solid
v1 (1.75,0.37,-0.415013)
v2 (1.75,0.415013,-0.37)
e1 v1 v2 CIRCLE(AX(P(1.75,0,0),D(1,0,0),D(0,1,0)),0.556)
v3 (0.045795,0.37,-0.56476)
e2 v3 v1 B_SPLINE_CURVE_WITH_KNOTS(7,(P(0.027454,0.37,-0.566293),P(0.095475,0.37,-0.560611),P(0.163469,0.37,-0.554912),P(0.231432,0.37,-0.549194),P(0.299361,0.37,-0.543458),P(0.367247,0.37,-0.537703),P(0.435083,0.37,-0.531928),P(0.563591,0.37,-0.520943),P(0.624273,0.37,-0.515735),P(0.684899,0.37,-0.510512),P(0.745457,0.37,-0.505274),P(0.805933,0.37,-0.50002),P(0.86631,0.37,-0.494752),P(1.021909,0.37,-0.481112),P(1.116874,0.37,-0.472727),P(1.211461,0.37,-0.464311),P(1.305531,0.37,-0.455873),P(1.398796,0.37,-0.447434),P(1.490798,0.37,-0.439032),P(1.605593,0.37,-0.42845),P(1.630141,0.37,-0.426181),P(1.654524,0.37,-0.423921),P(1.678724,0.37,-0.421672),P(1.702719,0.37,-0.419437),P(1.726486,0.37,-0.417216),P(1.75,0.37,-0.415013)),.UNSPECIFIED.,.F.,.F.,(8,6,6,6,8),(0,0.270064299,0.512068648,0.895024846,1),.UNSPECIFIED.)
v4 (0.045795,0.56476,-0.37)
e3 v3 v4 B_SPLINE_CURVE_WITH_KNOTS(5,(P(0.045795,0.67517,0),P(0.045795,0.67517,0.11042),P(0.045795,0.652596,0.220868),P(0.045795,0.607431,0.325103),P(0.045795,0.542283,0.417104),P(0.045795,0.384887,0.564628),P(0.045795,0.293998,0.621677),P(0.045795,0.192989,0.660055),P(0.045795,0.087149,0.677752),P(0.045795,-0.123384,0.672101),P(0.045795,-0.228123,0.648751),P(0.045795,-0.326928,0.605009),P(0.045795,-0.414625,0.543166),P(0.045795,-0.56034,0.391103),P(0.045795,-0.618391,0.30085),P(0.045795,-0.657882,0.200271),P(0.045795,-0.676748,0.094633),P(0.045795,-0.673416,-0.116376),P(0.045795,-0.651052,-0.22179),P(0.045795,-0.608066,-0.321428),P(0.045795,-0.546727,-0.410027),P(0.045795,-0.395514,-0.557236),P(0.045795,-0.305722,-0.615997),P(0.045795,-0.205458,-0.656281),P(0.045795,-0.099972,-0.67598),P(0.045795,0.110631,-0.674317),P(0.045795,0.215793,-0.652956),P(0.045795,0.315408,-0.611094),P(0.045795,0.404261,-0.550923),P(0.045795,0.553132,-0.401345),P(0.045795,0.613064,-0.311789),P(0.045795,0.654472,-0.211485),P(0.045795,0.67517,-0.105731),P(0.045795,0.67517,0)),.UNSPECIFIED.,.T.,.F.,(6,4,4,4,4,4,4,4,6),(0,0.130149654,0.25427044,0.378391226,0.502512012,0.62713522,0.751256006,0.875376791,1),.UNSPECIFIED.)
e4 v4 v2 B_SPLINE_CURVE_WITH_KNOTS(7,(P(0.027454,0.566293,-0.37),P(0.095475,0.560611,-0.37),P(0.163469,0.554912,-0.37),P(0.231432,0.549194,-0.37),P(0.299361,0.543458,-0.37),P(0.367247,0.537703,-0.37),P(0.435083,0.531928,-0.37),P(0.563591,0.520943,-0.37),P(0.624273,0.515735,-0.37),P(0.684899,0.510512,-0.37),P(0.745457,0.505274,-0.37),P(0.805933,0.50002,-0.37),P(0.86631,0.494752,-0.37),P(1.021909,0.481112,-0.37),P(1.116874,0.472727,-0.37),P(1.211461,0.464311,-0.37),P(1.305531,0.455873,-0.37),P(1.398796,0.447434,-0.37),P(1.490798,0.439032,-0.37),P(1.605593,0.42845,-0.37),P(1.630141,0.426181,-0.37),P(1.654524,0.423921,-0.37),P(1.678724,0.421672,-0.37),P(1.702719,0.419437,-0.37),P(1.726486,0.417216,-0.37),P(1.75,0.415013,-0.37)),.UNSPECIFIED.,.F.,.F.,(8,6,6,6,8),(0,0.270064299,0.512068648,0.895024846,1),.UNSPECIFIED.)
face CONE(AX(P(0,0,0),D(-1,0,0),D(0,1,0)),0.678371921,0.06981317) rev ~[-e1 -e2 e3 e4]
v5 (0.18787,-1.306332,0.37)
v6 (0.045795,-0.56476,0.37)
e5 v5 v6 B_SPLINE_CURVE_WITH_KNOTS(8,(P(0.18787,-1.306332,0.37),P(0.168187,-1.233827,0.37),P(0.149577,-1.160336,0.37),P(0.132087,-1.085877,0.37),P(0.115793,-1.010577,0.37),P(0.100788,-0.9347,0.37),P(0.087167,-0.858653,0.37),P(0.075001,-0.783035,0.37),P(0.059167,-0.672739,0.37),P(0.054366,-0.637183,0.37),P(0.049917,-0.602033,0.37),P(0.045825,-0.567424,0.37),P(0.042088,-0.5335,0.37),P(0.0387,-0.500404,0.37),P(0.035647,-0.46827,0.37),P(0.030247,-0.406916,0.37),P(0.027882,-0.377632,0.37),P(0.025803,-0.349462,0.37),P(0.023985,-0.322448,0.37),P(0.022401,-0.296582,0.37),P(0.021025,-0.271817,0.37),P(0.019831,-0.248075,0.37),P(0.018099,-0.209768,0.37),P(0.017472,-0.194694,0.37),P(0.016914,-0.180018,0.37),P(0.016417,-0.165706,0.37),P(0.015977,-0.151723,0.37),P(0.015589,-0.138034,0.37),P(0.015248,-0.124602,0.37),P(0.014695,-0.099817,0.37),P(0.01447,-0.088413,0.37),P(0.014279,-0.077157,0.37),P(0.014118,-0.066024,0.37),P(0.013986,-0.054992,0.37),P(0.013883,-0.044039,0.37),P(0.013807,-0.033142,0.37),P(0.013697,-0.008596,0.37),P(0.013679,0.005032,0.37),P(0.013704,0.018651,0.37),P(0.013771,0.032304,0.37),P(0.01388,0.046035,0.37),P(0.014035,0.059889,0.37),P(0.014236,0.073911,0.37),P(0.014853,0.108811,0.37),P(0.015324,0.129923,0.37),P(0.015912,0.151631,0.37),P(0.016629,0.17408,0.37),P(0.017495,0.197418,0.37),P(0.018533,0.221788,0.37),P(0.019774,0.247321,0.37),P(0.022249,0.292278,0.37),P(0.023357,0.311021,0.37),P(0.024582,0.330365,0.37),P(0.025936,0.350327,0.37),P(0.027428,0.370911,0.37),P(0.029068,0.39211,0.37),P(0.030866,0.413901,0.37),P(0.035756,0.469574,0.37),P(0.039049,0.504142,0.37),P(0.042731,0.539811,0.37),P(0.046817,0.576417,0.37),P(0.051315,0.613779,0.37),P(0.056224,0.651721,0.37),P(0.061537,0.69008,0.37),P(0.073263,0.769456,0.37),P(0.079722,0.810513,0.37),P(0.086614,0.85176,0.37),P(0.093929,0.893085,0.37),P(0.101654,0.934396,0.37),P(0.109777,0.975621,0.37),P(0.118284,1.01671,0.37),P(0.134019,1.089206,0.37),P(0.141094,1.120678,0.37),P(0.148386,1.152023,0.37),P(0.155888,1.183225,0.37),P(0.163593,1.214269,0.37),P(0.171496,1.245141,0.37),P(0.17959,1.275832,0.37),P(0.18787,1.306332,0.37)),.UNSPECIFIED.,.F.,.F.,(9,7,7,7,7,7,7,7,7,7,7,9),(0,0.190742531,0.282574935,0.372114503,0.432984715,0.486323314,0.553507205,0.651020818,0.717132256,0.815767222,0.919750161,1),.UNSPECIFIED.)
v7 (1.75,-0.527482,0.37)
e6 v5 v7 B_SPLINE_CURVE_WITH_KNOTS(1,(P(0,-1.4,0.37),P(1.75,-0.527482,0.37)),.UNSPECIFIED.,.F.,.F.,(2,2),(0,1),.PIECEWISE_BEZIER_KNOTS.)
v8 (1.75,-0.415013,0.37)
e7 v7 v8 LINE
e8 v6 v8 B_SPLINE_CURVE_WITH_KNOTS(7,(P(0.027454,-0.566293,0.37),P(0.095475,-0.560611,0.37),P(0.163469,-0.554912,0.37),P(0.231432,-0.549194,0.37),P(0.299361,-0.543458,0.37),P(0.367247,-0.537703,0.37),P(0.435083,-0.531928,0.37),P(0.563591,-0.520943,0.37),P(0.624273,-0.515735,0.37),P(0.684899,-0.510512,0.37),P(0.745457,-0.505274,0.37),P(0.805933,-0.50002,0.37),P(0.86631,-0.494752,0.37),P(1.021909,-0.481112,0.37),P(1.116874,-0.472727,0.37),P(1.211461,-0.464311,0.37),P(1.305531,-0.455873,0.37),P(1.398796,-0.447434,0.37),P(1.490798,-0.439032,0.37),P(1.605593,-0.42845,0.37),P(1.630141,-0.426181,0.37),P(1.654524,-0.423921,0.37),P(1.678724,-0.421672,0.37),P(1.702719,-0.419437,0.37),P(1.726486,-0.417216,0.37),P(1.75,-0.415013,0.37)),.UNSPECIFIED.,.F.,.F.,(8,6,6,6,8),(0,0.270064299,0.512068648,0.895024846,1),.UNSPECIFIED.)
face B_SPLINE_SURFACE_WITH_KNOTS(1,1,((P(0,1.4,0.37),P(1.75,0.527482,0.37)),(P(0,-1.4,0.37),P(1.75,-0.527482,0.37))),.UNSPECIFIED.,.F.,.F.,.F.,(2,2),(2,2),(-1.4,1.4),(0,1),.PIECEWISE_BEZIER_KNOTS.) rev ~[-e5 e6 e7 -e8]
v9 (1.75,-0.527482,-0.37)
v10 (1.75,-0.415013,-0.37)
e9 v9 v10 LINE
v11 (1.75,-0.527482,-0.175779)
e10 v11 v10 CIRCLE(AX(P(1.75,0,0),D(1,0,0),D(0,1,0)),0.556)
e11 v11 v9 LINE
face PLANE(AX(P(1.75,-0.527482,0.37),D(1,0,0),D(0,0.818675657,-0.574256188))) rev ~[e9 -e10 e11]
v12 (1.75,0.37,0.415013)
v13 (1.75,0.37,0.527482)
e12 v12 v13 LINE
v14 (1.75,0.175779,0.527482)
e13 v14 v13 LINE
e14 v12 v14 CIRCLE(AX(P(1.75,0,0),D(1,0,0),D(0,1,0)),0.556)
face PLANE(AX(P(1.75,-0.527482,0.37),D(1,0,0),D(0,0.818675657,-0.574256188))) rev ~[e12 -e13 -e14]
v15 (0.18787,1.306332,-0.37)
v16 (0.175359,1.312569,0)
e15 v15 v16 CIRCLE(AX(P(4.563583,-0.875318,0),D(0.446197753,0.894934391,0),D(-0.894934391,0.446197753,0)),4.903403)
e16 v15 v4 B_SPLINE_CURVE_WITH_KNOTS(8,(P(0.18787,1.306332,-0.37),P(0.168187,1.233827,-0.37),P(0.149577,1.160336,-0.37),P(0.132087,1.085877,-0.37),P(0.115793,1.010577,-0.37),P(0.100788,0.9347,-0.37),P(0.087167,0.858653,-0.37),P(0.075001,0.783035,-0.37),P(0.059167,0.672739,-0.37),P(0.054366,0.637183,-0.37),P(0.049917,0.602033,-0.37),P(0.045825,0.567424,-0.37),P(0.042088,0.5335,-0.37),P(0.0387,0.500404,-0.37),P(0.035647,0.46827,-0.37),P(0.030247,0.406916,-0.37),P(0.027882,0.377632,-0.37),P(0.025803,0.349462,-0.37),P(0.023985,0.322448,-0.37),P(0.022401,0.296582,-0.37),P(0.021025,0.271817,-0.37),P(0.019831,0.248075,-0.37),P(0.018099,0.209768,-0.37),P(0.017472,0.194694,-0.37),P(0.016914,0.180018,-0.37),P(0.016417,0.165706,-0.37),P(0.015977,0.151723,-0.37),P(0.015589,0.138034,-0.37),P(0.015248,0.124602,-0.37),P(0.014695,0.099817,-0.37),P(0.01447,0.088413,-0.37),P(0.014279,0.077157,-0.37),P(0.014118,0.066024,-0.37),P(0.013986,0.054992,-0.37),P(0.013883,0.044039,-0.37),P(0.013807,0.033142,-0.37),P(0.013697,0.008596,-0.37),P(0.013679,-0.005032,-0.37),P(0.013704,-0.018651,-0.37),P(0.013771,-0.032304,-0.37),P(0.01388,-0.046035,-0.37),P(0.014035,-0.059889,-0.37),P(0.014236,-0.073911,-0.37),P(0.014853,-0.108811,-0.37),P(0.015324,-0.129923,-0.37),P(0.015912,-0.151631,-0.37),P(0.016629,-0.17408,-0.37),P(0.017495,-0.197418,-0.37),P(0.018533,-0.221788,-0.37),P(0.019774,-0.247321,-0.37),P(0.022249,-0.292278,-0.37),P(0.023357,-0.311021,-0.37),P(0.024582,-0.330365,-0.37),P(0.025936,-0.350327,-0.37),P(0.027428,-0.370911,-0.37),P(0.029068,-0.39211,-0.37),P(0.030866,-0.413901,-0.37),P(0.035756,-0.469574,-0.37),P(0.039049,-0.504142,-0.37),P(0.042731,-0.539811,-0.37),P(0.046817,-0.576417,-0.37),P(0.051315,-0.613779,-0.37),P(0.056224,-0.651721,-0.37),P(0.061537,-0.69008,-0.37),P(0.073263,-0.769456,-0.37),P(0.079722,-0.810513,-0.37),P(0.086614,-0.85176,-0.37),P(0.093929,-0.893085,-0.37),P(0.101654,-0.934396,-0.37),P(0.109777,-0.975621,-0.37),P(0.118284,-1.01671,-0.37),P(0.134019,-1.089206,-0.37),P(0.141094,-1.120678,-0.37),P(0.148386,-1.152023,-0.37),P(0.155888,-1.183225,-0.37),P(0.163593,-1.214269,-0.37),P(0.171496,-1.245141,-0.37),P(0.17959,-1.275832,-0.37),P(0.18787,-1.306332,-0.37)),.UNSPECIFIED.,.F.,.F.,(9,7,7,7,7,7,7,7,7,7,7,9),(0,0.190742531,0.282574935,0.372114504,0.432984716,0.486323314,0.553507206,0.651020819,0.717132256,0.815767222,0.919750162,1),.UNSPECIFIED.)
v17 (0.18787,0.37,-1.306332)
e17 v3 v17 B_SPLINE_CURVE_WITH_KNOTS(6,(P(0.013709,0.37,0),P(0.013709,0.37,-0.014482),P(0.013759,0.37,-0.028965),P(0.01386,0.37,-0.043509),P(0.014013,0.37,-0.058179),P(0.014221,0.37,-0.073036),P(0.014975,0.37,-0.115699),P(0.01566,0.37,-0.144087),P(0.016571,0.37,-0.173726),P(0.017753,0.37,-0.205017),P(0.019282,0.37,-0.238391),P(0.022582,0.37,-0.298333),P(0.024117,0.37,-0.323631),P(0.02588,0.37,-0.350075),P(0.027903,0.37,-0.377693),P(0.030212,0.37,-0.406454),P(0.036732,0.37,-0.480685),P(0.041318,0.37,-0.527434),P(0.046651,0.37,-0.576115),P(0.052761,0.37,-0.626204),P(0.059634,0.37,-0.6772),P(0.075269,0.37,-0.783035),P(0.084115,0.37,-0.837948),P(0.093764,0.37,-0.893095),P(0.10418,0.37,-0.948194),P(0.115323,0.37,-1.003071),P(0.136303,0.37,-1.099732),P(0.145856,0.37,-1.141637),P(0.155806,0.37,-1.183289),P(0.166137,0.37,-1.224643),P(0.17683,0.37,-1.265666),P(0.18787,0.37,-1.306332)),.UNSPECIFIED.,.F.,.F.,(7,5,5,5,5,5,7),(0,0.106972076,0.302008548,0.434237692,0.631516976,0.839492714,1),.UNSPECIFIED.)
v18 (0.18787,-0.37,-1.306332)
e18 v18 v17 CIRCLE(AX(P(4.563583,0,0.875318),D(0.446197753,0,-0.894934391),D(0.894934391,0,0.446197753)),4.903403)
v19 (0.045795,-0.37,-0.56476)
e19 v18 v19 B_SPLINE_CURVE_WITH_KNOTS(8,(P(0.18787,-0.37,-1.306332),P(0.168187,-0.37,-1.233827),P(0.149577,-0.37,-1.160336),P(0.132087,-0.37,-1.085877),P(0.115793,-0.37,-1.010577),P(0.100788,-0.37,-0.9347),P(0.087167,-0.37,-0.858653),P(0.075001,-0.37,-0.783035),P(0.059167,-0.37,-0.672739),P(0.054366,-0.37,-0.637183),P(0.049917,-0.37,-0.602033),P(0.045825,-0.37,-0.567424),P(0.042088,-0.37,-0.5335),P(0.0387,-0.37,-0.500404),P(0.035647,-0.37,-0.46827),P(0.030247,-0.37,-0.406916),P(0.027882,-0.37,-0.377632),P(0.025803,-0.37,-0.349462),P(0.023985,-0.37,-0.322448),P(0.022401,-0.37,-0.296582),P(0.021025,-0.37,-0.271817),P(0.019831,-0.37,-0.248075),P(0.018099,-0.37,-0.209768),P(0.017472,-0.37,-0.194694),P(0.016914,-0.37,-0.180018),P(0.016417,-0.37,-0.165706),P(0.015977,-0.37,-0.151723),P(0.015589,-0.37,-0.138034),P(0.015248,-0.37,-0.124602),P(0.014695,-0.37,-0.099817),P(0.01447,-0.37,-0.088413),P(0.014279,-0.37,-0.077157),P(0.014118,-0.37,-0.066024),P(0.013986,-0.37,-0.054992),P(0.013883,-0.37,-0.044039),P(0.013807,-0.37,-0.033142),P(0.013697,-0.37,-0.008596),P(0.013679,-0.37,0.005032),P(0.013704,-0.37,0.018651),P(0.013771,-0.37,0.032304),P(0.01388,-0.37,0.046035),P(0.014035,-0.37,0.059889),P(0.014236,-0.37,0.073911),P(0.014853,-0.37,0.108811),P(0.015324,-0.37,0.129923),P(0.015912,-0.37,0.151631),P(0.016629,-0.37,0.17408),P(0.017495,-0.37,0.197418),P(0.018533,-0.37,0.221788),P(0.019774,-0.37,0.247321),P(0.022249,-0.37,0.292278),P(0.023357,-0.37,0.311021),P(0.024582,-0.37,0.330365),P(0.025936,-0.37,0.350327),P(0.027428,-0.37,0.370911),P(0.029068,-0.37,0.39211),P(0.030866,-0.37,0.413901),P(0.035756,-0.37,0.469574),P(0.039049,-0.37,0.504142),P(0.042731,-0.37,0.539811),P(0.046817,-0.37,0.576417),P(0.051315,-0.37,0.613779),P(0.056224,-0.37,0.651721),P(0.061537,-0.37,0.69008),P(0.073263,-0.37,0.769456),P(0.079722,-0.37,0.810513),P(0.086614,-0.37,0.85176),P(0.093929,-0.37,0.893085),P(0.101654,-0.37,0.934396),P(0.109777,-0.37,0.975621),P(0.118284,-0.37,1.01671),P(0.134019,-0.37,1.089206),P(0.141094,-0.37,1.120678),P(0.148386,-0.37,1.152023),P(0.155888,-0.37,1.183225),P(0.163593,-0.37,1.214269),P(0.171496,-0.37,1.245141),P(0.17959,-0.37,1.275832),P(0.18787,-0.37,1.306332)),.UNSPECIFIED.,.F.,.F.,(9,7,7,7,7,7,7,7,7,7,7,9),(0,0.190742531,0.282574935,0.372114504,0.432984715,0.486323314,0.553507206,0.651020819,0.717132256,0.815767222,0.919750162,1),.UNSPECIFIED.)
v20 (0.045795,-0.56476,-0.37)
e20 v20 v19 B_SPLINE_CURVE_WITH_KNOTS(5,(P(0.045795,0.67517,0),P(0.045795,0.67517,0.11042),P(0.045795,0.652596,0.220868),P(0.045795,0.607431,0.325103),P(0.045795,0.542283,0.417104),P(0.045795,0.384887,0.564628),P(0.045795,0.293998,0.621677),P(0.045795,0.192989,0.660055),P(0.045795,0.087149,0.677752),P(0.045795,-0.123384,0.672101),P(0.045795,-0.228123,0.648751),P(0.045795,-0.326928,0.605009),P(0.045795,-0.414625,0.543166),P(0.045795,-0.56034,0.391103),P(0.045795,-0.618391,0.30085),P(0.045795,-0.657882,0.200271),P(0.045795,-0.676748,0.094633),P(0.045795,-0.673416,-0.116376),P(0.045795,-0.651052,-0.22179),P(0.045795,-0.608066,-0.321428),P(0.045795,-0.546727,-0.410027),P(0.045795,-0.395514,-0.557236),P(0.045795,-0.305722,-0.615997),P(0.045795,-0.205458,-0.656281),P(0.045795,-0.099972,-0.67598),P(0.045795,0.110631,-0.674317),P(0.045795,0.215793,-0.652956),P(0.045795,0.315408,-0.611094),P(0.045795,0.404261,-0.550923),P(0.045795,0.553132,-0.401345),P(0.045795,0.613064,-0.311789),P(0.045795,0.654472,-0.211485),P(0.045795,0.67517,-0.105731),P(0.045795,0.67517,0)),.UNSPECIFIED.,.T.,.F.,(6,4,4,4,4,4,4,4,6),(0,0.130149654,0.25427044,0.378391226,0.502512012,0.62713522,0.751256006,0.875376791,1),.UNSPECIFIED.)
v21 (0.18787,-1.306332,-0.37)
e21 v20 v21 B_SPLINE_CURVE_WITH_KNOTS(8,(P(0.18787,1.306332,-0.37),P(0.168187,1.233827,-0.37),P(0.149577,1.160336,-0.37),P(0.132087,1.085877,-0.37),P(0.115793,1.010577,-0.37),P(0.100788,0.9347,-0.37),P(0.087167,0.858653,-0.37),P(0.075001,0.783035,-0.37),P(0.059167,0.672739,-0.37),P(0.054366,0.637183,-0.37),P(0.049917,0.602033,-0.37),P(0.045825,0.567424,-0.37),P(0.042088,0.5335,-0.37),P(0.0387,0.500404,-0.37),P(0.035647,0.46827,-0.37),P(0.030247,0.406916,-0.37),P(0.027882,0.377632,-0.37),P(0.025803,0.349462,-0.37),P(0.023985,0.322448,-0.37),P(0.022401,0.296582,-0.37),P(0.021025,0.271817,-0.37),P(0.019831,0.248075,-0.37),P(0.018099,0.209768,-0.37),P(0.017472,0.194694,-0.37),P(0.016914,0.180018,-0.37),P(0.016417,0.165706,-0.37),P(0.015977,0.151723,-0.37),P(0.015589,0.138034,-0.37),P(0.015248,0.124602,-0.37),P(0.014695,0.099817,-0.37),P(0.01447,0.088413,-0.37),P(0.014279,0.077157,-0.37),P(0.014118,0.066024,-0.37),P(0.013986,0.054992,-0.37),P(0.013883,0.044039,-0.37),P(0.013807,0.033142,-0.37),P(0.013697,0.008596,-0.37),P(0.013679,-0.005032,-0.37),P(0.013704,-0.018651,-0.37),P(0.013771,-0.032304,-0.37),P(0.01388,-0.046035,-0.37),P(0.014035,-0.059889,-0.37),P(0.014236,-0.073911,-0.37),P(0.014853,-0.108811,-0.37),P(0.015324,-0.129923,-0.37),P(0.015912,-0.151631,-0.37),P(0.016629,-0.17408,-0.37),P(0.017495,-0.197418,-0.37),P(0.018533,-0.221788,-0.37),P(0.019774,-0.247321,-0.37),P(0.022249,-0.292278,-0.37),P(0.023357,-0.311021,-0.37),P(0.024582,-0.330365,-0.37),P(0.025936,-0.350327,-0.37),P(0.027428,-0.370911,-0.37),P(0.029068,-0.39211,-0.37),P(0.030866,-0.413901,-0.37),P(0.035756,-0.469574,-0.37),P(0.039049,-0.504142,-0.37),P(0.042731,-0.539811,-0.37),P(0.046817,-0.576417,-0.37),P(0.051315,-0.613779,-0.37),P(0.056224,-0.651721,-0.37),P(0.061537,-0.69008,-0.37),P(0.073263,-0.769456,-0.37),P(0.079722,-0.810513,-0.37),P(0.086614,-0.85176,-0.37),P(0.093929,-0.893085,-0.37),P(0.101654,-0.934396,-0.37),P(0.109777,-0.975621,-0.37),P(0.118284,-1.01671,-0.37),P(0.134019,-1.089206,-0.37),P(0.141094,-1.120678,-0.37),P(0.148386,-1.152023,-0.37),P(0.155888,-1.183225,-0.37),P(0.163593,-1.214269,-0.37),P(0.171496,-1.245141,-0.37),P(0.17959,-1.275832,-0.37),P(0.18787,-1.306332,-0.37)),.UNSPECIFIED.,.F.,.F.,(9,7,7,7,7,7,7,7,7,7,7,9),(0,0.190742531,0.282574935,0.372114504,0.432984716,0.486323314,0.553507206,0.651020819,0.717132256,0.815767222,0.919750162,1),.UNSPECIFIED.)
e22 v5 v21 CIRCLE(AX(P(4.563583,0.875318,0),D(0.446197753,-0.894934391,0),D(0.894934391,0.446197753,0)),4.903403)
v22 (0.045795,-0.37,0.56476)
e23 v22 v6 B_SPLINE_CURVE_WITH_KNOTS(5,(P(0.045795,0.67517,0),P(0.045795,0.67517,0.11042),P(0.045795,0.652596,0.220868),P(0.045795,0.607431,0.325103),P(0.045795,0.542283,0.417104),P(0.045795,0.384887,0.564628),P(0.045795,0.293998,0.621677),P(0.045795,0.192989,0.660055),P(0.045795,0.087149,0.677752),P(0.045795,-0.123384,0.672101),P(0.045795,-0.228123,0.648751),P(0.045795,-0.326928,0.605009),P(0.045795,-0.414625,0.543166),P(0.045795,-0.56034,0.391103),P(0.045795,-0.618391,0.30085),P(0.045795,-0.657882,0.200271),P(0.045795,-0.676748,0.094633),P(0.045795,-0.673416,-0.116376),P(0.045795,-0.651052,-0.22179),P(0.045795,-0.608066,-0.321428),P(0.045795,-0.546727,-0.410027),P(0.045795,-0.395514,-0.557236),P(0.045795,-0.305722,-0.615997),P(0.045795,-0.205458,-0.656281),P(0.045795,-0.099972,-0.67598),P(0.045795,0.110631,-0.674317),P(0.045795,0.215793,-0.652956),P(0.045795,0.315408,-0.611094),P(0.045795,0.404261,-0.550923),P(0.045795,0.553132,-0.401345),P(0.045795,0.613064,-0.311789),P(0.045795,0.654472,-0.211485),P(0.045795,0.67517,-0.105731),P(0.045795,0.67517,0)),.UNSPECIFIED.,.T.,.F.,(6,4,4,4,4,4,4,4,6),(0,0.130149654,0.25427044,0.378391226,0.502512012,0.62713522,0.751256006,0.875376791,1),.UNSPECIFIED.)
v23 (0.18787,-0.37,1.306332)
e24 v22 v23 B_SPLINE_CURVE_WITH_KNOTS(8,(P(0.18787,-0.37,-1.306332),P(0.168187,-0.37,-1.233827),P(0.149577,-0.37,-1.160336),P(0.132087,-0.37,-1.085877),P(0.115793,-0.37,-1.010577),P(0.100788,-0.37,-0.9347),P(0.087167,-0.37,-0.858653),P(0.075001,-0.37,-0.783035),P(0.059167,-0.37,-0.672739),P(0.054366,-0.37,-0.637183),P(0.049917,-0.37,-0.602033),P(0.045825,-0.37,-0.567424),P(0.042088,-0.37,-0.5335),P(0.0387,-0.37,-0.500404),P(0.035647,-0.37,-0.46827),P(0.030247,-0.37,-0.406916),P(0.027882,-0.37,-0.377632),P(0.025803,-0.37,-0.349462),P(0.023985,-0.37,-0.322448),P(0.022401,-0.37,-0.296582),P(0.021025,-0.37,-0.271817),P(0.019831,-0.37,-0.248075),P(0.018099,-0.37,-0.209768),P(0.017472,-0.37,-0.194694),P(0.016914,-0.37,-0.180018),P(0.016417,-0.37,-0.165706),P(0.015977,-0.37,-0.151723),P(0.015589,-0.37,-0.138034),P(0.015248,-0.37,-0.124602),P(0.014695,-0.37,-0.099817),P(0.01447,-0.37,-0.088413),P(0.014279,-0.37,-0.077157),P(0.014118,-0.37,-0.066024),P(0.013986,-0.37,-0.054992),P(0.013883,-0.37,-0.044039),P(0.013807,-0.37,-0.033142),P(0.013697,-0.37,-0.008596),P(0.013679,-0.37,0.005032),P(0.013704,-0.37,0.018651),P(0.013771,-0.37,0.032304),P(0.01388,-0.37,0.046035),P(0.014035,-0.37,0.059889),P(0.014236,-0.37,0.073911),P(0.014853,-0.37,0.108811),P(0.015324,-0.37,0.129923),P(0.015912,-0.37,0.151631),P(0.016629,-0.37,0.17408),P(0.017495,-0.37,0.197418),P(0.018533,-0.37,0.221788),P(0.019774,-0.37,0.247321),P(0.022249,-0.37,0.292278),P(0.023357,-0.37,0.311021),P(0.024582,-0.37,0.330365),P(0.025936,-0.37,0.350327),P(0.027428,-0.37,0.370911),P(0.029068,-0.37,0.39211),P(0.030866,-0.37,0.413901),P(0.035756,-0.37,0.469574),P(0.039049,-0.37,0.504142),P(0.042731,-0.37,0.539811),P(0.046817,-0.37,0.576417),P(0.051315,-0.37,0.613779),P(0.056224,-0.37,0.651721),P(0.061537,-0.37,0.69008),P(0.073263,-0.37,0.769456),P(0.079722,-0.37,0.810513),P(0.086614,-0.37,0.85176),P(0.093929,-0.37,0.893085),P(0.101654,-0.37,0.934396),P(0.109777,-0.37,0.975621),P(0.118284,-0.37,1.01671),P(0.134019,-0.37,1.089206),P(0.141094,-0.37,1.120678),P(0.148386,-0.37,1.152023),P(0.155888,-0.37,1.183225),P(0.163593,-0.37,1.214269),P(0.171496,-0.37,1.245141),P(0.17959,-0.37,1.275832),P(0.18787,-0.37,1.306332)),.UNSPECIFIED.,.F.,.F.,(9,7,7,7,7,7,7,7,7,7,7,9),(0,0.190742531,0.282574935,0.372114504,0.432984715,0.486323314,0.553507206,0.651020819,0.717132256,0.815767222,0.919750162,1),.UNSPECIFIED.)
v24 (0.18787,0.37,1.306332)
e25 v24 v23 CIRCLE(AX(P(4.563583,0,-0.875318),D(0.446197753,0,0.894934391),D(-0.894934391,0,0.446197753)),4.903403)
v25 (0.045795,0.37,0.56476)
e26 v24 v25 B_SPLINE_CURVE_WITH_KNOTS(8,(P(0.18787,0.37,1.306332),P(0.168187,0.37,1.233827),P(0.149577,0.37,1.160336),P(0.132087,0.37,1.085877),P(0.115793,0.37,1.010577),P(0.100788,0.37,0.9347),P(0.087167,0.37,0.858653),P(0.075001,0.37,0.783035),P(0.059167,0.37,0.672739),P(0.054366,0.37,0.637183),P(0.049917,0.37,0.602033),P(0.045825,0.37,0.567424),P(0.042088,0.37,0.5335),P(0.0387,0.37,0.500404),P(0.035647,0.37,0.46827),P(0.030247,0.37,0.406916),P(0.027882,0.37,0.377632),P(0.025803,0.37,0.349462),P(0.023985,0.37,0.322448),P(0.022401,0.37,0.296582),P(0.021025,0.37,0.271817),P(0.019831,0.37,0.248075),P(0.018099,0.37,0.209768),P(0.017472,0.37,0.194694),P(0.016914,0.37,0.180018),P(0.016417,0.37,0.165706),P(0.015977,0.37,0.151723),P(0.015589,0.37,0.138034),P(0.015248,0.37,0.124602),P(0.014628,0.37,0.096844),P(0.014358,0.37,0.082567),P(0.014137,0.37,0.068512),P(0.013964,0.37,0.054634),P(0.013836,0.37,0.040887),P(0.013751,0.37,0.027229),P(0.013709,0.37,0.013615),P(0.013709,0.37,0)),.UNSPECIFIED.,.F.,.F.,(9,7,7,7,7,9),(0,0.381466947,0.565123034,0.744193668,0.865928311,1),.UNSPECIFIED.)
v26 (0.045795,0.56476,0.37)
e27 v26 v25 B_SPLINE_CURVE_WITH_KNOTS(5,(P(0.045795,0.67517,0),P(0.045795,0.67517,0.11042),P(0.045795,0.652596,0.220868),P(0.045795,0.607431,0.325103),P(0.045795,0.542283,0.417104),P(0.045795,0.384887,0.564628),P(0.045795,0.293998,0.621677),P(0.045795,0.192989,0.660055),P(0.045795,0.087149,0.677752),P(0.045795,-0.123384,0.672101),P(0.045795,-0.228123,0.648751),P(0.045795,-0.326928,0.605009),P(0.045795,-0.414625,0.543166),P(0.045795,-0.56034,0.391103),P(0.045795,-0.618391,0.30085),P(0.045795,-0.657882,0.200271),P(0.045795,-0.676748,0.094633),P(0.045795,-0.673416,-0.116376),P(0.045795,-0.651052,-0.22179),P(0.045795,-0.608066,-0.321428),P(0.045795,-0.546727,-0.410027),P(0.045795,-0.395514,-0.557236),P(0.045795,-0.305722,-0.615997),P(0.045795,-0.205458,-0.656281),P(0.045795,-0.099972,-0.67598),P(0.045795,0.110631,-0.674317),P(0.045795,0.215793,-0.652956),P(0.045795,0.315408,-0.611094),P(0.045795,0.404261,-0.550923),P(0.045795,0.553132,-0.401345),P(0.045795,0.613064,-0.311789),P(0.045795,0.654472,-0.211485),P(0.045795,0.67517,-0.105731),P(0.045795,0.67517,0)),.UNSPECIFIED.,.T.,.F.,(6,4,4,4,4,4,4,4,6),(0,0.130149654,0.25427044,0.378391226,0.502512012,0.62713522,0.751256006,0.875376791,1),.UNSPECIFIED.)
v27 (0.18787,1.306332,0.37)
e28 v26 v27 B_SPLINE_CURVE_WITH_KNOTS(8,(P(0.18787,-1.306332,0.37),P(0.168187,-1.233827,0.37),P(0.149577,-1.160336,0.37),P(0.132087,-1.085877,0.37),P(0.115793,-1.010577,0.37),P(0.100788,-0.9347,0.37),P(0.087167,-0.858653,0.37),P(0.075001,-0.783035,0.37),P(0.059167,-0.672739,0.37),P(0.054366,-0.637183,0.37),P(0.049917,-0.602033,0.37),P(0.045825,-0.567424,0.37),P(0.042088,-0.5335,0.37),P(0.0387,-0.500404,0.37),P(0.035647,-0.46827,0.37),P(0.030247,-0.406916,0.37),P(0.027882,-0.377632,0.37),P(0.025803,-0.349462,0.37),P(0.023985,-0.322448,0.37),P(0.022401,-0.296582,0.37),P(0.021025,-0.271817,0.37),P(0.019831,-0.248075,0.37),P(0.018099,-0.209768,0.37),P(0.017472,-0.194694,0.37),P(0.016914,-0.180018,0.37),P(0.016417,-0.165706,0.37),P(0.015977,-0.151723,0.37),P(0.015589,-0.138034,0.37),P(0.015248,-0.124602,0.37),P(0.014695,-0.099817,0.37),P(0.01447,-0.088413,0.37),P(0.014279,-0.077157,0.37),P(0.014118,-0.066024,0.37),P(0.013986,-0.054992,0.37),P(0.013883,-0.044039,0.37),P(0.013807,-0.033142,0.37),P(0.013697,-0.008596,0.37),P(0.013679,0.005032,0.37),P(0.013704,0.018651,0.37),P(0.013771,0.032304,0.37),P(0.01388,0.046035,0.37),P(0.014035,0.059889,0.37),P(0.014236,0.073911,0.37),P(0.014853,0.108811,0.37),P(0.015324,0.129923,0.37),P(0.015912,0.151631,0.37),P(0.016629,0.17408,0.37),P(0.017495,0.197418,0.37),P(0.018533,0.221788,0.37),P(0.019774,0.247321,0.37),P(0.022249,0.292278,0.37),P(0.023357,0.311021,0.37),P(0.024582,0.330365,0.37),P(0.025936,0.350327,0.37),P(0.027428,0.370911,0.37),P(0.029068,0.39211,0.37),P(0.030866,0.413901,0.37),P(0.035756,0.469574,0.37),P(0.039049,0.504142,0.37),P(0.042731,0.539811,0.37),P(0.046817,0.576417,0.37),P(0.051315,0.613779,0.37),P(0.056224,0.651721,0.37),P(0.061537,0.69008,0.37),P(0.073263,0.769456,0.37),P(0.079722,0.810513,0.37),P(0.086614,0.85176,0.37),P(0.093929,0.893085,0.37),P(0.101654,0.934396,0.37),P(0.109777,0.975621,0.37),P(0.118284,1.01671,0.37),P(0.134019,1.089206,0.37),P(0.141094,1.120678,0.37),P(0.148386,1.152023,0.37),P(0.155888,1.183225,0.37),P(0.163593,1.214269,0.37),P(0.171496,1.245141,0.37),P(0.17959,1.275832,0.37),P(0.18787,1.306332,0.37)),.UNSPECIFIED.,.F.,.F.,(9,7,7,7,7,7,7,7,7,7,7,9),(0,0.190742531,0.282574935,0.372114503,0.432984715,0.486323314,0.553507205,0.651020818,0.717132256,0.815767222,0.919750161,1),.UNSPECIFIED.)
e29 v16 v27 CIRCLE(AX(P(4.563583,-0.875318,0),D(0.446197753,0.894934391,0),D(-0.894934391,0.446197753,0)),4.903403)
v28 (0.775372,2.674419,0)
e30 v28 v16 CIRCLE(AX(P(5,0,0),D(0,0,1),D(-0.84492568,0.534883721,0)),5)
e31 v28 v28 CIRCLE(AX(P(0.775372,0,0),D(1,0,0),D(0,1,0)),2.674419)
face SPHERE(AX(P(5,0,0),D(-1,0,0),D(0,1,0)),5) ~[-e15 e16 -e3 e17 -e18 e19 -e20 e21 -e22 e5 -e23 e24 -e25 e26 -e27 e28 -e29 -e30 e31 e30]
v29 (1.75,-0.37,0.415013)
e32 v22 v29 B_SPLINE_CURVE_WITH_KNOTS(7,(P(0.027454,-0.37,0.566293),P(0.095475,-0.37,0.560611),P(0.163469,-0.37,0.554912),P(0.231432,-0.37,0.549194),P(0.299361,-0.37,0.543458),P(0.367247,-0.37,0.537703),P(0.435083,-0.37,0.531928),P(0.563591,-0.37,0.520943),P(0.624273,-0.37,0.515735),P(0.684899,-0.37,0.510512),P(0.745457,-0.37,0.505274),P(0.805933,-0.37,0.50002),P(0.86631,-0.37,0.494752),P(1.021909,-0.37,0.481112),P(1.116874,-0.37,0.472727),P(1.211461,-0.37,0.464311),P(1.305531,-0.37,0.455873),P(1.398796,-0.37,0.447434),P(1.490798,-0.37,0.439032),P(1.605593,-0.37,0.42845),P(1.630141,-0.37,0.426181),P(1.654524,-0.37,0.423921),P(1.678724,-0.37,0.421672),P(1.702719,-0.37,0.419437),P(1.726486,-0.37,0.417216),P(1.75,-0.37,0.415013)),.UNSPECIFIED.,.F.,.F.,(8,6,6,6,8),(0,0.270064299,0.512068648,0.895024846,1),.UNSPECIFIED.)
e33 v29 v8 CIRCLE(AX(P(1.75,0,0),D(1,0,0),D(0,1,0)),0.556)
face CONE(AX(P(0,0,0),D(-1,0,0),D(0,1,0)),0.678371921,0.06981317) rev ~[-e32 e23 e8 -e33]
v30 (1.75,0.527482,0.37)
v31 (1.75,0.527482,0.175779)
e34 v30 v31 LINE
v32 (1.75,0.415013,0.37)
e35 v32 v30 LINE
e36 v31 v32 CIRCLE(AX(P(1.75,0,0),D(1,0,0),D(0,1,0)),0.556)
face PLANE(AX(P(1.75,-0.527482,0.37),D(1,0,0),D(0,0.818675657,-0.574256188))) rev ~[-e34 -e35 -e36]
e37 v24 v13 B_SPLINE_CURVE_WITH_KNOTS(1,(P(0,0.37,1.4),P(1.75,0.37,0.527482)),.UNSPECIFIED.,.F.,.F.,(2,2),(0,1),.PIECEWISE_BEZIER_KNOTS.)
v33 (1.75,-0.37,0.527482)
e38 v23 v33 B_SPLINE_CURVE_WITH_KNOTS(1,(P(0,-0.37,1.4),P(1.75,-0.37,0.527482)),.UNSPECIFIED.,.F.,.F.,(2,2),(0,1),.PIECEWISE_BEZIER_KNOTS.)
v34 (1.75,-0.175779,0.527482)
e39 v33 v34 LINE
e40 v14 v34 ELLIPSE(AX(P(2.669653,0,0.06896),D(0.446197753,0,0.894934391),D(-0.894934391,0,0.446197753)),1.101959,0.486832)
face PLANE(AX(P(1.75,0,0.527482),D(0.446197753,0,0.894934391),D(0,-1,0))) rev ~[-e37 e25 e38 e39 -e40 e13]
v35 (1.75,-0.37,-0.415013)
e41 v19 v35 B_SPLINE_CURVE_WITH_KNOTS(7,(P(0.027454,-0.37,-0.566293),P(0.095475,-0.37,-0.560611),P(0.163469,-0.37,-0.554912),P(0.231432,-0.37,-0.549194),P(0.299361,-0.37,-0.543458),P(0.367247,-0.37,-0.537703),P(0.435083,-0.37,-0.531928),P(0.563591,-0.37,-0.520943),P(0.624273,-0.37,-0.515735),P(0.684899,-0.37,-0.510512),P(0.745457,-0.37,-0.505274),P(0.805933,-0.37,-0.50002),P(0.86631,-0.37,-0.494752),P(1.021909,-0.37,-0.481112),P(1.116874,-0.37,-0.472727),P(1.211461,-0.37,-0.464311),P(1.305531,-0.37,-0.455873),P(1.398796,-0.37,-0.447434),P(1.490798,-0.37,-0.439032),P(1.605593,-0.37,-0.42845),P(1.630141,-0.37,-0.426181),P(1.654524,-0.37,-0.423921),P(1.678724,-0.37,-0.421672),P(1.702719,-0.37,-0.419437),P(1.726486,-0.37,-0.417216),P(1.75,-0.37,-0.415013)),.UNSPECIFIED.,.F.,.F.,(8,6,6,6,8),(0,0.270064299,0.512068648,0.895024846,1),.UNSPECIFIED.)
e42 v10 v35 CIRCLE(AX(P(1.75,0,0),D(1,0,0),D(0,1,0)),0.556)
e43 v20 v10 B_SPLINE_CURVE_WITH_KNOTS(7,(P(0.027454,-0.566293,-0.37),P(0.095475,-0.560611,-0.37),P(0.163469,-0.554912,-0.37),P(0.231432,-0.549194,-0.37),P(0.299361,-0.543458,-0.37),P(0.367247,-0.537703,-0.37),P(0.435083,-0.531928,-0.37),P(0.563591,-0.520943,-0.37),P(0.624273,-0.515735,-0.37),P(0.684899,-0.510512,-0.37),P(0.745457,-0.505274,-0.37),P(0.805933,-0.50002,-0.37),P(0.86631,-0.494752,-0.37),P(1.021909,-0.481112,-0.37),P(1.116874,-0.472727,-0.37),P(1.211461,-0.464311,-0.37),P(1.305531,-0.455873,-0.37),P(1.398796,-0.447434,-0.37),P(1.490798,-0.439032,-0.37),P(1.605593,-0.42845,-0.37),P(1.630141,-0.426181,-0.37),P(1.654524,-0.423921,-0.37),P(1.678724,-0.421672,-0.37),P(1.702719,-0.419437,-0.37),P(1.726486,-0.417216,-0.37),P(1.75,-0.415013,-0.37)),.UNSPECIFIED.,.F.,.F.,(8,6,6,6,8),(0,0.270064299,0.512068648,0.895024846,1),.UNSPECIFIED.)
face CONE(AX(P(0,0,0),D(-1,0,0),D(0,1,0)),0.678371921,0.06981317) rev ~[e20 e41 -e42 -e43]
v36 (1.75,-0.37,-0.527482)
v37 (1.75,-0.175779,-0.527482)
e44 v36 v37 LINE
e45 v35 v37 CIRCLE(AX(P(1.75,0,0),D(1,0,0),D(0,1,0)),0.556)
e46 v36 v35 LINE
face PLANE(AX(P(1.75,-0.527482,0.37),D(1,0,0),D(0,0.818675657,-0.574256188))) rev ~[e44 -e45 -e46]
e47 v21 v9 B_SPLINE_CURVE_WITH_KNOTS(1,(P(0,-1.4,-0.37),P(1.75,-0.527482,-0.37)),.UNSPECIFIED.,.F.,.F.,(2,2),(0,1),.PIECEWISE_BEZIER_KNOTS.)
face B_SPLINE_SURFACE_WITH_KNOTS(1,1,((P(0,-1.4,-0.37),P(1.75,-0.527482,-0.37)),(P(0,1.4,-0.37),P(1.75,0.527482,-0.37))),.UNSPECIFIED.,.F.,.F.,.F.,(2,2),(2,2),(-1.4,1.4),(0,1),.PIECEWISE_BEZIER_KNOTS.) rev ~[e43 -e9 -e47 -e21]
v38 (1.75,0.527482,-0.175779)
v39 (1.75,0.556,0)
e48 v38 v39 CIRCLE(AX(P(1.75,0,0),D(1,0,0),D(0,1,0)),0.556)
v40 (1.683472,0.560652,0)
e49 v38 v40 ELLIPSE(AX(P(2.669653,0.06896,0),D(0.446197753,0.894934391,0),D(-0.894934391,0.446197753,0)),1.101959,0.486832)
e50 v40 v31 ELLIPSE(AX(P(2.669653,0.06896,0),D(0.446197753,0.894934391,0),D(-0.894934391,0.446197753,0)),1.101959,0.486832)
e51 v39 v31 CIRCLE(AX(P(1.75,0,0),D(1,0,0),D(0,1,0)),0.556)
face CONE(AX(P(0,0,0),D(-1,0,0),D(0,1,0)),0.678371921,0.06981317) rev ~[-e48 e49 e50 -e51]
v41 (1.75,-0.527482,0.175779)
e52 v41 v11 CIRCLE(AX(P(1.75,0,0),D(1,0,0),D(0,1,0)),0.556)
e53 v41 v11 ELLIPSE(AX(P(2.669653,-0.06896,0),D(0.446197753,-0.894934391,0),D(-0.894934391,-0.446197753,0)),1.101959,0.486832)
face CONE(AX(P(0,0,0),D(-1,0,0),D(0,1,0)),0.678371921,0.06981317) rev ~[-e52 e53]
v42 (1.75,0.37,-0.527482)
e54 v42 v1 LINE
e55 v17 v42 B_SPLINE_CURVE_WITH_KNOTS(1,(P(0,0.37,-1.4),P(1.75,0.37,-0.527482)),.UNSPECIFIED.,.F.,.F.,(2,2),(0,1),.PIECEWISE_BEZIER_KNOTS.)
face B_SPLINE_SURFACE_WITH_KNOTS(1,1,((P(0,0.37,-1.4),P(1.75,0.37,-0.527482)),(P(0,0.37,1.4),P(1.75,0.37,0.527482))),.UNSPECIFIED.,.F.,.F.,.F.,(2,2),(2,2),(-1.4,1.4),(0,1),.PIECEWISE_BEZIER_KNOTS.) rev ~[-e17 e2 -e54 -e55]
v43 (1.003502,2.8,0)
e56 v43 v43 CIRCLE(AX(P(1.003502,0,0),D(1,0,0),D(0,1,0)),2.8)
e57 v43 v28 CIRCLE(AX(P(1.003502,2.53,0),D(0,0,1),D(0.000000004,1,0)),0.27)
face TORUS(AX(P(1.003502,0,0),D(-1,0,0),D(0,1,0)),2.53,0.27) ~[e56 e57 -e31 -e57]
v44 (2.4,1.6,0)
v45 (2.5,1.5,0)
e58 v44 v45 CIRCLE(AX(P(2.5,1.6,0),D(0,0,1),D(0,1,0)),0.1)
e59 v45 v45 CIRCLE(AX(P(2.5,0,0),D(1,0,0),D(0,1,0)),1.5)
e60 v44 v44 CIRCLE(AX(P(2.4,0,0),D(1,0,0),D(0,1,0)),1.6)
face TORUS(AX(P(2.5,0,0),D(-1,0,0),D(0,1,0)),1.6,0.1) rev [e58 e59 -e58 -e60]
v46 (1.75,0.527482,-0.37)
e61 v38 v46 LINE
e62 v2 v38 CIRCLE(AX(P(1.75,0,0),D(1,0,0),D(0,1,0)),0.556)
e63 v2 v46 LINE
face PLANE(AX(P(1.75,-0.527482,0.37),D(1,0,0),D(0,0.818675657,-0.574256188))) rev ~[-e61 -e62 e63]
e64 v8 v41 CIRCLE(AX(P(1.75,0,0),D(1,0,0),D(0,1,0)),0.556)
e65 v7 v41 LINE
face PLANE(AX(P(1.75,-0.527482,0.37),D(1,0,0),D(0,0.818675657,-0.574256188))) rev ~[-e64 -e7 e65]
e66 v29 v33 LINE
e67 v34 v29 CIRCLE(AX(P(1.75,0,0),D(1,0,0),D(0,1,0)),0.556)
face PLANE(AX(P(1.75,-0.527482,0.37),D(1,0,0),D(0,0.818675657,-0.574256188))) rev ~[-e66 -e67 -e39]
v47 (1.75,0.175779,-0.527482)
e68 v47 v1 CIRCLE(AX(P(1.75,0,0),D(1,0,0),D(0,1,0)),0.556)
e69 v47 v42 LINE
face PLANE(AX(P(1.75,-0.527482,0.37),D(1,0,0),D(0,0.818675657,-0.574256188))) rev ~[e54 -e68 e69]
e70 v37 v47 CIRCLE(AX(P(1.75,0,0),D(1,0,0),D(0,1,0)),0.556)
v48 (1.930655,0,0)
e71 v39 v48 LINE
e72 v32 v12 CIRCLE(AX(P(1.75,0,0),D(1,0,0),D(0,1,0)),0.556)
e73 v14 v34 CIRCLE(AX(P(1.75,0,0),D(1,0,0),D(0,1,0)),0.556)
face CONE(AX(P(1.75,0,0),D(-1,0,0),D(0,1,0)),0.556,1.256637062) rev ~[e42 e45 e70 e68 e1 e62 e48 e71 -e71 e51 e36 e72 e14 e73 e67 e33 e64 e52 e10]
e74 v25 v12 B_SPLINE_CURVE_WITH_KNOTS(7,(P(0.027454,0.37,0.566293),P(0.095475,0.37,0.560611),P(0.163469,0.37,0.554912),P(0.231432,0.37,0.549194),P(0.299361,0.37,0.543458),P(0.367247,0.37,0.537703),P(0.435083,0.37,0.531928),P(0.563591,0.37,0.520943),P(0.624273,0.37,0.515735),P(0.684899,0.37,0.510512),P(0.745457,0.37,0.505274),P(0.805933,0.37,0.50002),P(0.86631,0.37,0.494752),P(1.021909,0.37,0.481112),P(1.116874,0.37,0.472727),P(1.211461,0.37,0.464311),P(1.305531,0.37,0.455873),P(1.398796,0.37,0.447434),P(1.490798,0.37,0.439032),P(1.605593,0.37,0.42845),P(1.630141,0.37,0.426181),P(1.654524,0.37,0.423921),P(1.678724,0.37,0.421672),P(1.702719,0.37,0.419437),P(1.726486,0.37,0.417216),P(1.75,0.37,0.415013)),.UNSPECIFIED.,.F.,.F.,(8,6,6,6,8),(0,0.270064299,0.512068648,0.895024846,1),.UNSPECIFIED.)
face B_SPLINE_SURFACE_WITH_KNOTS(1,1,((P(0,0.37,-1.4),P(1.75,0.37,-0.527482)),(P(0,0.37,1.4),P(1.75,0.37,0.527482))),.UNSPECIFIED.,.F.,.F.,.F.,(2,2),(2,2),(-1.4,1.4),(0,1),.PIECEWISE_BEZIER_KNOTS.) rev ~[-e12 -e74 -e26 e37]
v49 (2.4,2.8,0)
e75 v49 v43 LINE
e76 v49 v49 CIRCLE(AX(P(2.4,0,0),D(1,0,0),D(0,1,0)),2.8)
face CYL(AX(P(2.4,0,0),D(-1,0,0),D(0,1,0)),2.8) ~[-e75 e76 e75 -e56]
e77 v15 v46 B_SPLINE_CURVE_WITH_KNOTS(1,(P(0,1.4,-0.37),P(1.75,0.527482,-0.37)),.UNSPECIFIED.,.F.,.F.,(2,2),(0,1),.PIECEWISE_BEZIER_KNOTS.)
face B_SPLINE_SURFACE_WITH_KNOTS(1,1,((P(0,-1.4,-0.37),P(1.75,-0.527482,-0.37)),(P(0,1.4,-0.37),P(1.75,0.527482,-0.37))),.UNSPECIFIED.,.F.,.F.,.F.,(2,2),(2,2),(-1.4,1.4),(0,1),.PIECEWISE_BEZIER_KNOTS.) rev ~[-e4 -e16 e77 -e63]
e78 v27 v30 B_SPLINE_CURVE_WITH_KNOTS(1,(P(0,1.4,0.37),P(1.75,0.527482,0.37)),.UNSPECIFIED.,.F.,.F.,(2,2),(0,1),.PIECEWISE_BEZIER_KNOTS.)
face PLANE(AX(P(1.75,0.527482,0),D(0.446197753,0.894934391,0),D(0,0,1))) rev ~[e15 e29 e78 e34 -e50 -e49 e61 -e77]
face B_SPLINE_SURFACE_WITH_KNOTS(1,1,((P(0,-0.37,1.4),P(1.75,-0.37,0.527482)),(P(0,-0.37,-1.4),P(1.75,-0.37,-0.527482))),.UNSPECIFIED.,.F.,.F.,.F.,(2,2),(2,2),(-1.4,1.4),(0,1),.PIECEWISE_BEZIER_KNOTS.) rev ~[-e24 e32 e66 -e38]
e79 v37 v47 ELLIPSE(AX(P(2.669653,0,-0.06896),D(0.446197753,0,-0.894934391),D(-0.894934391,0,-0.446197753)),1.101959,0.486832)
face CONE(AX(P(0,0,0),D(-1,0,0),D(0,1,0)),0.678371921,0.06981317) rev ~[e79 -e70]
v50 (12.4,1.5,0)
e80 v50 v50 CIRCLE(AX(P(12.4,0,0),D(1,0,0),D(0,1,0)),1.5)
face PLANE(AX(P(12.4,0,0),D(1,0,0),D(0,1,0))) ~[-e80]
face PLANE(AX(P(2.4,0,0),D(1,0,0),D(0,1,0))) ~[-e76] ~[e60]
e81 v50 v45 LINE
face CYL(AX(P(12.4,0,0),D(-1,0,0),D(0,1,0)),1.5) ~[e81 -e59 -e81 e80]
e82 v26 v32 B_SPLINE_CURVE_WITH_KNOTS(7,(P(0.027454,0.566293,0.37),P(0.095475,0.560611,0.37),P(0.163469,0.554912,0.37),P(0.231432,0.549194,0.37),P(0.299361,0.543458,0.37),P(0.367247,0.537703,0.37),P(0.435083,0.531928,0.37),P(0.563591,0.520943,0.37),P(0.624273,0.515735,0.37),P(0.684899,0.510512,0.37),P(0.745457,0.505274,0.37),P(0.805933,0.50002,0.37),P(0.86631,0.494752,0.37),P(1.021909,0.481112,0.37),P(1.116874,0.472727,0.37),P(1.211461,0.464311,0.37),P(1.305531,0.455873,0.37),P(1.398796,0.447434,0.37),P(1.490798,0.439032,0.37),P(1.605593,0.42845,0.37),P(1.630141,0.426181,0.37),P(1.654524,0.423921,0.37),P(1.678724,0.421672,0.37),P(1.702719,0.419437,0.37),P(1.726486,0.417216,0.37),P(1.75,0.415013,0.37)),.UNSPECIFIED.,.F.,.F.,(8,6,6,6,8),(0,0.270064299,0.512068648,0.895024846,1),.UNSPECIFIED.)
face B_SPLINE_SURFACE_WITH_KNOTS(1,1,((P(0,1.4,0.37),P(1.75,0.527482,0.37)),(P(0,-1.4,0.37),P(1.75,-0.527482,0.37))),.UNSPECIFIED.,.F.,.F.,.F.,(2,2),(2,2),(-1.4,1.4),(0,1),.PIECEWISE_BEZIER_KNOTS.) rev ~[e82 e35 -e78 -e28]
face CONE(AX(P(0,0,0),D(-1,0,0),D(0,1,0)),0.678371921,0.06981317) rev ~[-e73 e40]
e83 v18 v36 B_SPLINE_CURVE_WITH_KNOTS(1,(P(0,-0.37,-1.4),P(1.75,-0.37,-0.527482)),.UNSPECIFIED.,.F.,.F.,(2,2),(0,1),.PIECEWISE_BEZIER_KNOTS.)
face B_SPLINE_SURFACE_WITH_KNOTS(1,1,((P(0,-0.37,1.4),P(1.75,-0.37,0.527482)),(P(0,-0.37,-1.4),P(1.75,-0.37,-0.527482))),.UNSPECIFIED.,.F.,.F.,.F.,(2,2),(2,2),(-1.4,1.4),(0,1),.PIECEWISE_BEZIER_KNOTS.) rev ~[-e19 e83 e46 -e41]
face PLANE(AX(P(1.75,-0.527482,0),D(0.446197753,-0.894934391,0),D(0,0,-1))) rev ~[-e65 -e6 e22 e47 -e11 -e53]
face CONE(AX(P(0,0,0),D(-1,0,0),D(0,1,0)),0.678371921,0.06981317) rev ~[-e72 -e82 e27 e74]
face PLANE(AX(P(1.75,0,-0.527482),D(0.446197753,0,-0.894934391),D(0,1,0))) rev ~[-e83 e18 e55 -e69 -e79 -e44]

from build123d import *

# Parameters (mm, degrees)
FILLET1_R    = 0.1
SKETCH3_W    = 0.74
SKETCH3_H    = 2.8
SKETCH4_W    = 0.74
SKETCH4_H    = 1.054964664
RECPAT_COUNT = 2
RECPAT_ANGLE = 90


with BuildPart() as part:
    # BodySke → Base-Revolve (revolve)
    with BuildSketch(Plane.XY):
        with BuildLine():
            Line((2.4, 1.5), (2.4, 2.8))
            Line((2.4, 2.8), (1.003501533, 2.8))
            ThreePointArc((1.003501533, 2.8), (0.873295971, 2.76653015), (0.775371599, 2.674418605))
            ThreePointArc((0.775371599, 2.674418605), (0.197753546, 1.392274756), (0, 0))
            Line((0, 0), (12.4, 0))
            Line((12.4, 0), (12.4, 1.5))
            Line((12.4, 1.5), (2.4, 1.5))
        make_face()
    revolve(axis=Axis((-25.4, 0, 0), (1, 0, 0)))

    # Fillet1
    fillet1_edges = [part.edges().sort_by_distance(p)[0] for p in [
        (2.4, -1.5, 0),
    ]]
    fillet(fillet1_edges, radius=FILLET1_R)

    # Sketch3 → Recess section 0
    with BuildSketch(Plane(origin=(0, 0, 0), x_dir=(0, 0, -1), z_dir=(1, 0, 0))):
        Rectangle(SKETCH3_W, SKETCH3_H)
    # Sketch4 → Recess section 1
    with BuildSketch(Plane(origin=(1.75, 0, 0), x_dir=(0, 0, -1), z_dir=(1, 0, 0))):
        Rectangle(SKETCH4_W, SKETCH4_H)
    recess = loft(mode=Mode.SUBTRACT)

    # RecPat: Recess ×2 about axis
    recpat_axis = Axis((0, 0, 0), (1, 0, 0))
    for i in range(1, RECPAT_COUNT):
        add(recess.rotate(recpat_axis, i * RECPAT_ANGLE / (RECPAT_COUNT - 1)), mode=Mode.SUBTRACT)

    # RecCorSke → RecessCore (revolve, cut)
    with BuildSketch(Plane.XY):
        Polygon((0, 0), (0, 0.678371921), (1.75, 0.556), (1.930655351, 0), align=None)
    revolve(axis=Axis((-3.175, 0, 0), (1, 0, 0)), mode=Mode.SUBTRACT)


solid = part.part
